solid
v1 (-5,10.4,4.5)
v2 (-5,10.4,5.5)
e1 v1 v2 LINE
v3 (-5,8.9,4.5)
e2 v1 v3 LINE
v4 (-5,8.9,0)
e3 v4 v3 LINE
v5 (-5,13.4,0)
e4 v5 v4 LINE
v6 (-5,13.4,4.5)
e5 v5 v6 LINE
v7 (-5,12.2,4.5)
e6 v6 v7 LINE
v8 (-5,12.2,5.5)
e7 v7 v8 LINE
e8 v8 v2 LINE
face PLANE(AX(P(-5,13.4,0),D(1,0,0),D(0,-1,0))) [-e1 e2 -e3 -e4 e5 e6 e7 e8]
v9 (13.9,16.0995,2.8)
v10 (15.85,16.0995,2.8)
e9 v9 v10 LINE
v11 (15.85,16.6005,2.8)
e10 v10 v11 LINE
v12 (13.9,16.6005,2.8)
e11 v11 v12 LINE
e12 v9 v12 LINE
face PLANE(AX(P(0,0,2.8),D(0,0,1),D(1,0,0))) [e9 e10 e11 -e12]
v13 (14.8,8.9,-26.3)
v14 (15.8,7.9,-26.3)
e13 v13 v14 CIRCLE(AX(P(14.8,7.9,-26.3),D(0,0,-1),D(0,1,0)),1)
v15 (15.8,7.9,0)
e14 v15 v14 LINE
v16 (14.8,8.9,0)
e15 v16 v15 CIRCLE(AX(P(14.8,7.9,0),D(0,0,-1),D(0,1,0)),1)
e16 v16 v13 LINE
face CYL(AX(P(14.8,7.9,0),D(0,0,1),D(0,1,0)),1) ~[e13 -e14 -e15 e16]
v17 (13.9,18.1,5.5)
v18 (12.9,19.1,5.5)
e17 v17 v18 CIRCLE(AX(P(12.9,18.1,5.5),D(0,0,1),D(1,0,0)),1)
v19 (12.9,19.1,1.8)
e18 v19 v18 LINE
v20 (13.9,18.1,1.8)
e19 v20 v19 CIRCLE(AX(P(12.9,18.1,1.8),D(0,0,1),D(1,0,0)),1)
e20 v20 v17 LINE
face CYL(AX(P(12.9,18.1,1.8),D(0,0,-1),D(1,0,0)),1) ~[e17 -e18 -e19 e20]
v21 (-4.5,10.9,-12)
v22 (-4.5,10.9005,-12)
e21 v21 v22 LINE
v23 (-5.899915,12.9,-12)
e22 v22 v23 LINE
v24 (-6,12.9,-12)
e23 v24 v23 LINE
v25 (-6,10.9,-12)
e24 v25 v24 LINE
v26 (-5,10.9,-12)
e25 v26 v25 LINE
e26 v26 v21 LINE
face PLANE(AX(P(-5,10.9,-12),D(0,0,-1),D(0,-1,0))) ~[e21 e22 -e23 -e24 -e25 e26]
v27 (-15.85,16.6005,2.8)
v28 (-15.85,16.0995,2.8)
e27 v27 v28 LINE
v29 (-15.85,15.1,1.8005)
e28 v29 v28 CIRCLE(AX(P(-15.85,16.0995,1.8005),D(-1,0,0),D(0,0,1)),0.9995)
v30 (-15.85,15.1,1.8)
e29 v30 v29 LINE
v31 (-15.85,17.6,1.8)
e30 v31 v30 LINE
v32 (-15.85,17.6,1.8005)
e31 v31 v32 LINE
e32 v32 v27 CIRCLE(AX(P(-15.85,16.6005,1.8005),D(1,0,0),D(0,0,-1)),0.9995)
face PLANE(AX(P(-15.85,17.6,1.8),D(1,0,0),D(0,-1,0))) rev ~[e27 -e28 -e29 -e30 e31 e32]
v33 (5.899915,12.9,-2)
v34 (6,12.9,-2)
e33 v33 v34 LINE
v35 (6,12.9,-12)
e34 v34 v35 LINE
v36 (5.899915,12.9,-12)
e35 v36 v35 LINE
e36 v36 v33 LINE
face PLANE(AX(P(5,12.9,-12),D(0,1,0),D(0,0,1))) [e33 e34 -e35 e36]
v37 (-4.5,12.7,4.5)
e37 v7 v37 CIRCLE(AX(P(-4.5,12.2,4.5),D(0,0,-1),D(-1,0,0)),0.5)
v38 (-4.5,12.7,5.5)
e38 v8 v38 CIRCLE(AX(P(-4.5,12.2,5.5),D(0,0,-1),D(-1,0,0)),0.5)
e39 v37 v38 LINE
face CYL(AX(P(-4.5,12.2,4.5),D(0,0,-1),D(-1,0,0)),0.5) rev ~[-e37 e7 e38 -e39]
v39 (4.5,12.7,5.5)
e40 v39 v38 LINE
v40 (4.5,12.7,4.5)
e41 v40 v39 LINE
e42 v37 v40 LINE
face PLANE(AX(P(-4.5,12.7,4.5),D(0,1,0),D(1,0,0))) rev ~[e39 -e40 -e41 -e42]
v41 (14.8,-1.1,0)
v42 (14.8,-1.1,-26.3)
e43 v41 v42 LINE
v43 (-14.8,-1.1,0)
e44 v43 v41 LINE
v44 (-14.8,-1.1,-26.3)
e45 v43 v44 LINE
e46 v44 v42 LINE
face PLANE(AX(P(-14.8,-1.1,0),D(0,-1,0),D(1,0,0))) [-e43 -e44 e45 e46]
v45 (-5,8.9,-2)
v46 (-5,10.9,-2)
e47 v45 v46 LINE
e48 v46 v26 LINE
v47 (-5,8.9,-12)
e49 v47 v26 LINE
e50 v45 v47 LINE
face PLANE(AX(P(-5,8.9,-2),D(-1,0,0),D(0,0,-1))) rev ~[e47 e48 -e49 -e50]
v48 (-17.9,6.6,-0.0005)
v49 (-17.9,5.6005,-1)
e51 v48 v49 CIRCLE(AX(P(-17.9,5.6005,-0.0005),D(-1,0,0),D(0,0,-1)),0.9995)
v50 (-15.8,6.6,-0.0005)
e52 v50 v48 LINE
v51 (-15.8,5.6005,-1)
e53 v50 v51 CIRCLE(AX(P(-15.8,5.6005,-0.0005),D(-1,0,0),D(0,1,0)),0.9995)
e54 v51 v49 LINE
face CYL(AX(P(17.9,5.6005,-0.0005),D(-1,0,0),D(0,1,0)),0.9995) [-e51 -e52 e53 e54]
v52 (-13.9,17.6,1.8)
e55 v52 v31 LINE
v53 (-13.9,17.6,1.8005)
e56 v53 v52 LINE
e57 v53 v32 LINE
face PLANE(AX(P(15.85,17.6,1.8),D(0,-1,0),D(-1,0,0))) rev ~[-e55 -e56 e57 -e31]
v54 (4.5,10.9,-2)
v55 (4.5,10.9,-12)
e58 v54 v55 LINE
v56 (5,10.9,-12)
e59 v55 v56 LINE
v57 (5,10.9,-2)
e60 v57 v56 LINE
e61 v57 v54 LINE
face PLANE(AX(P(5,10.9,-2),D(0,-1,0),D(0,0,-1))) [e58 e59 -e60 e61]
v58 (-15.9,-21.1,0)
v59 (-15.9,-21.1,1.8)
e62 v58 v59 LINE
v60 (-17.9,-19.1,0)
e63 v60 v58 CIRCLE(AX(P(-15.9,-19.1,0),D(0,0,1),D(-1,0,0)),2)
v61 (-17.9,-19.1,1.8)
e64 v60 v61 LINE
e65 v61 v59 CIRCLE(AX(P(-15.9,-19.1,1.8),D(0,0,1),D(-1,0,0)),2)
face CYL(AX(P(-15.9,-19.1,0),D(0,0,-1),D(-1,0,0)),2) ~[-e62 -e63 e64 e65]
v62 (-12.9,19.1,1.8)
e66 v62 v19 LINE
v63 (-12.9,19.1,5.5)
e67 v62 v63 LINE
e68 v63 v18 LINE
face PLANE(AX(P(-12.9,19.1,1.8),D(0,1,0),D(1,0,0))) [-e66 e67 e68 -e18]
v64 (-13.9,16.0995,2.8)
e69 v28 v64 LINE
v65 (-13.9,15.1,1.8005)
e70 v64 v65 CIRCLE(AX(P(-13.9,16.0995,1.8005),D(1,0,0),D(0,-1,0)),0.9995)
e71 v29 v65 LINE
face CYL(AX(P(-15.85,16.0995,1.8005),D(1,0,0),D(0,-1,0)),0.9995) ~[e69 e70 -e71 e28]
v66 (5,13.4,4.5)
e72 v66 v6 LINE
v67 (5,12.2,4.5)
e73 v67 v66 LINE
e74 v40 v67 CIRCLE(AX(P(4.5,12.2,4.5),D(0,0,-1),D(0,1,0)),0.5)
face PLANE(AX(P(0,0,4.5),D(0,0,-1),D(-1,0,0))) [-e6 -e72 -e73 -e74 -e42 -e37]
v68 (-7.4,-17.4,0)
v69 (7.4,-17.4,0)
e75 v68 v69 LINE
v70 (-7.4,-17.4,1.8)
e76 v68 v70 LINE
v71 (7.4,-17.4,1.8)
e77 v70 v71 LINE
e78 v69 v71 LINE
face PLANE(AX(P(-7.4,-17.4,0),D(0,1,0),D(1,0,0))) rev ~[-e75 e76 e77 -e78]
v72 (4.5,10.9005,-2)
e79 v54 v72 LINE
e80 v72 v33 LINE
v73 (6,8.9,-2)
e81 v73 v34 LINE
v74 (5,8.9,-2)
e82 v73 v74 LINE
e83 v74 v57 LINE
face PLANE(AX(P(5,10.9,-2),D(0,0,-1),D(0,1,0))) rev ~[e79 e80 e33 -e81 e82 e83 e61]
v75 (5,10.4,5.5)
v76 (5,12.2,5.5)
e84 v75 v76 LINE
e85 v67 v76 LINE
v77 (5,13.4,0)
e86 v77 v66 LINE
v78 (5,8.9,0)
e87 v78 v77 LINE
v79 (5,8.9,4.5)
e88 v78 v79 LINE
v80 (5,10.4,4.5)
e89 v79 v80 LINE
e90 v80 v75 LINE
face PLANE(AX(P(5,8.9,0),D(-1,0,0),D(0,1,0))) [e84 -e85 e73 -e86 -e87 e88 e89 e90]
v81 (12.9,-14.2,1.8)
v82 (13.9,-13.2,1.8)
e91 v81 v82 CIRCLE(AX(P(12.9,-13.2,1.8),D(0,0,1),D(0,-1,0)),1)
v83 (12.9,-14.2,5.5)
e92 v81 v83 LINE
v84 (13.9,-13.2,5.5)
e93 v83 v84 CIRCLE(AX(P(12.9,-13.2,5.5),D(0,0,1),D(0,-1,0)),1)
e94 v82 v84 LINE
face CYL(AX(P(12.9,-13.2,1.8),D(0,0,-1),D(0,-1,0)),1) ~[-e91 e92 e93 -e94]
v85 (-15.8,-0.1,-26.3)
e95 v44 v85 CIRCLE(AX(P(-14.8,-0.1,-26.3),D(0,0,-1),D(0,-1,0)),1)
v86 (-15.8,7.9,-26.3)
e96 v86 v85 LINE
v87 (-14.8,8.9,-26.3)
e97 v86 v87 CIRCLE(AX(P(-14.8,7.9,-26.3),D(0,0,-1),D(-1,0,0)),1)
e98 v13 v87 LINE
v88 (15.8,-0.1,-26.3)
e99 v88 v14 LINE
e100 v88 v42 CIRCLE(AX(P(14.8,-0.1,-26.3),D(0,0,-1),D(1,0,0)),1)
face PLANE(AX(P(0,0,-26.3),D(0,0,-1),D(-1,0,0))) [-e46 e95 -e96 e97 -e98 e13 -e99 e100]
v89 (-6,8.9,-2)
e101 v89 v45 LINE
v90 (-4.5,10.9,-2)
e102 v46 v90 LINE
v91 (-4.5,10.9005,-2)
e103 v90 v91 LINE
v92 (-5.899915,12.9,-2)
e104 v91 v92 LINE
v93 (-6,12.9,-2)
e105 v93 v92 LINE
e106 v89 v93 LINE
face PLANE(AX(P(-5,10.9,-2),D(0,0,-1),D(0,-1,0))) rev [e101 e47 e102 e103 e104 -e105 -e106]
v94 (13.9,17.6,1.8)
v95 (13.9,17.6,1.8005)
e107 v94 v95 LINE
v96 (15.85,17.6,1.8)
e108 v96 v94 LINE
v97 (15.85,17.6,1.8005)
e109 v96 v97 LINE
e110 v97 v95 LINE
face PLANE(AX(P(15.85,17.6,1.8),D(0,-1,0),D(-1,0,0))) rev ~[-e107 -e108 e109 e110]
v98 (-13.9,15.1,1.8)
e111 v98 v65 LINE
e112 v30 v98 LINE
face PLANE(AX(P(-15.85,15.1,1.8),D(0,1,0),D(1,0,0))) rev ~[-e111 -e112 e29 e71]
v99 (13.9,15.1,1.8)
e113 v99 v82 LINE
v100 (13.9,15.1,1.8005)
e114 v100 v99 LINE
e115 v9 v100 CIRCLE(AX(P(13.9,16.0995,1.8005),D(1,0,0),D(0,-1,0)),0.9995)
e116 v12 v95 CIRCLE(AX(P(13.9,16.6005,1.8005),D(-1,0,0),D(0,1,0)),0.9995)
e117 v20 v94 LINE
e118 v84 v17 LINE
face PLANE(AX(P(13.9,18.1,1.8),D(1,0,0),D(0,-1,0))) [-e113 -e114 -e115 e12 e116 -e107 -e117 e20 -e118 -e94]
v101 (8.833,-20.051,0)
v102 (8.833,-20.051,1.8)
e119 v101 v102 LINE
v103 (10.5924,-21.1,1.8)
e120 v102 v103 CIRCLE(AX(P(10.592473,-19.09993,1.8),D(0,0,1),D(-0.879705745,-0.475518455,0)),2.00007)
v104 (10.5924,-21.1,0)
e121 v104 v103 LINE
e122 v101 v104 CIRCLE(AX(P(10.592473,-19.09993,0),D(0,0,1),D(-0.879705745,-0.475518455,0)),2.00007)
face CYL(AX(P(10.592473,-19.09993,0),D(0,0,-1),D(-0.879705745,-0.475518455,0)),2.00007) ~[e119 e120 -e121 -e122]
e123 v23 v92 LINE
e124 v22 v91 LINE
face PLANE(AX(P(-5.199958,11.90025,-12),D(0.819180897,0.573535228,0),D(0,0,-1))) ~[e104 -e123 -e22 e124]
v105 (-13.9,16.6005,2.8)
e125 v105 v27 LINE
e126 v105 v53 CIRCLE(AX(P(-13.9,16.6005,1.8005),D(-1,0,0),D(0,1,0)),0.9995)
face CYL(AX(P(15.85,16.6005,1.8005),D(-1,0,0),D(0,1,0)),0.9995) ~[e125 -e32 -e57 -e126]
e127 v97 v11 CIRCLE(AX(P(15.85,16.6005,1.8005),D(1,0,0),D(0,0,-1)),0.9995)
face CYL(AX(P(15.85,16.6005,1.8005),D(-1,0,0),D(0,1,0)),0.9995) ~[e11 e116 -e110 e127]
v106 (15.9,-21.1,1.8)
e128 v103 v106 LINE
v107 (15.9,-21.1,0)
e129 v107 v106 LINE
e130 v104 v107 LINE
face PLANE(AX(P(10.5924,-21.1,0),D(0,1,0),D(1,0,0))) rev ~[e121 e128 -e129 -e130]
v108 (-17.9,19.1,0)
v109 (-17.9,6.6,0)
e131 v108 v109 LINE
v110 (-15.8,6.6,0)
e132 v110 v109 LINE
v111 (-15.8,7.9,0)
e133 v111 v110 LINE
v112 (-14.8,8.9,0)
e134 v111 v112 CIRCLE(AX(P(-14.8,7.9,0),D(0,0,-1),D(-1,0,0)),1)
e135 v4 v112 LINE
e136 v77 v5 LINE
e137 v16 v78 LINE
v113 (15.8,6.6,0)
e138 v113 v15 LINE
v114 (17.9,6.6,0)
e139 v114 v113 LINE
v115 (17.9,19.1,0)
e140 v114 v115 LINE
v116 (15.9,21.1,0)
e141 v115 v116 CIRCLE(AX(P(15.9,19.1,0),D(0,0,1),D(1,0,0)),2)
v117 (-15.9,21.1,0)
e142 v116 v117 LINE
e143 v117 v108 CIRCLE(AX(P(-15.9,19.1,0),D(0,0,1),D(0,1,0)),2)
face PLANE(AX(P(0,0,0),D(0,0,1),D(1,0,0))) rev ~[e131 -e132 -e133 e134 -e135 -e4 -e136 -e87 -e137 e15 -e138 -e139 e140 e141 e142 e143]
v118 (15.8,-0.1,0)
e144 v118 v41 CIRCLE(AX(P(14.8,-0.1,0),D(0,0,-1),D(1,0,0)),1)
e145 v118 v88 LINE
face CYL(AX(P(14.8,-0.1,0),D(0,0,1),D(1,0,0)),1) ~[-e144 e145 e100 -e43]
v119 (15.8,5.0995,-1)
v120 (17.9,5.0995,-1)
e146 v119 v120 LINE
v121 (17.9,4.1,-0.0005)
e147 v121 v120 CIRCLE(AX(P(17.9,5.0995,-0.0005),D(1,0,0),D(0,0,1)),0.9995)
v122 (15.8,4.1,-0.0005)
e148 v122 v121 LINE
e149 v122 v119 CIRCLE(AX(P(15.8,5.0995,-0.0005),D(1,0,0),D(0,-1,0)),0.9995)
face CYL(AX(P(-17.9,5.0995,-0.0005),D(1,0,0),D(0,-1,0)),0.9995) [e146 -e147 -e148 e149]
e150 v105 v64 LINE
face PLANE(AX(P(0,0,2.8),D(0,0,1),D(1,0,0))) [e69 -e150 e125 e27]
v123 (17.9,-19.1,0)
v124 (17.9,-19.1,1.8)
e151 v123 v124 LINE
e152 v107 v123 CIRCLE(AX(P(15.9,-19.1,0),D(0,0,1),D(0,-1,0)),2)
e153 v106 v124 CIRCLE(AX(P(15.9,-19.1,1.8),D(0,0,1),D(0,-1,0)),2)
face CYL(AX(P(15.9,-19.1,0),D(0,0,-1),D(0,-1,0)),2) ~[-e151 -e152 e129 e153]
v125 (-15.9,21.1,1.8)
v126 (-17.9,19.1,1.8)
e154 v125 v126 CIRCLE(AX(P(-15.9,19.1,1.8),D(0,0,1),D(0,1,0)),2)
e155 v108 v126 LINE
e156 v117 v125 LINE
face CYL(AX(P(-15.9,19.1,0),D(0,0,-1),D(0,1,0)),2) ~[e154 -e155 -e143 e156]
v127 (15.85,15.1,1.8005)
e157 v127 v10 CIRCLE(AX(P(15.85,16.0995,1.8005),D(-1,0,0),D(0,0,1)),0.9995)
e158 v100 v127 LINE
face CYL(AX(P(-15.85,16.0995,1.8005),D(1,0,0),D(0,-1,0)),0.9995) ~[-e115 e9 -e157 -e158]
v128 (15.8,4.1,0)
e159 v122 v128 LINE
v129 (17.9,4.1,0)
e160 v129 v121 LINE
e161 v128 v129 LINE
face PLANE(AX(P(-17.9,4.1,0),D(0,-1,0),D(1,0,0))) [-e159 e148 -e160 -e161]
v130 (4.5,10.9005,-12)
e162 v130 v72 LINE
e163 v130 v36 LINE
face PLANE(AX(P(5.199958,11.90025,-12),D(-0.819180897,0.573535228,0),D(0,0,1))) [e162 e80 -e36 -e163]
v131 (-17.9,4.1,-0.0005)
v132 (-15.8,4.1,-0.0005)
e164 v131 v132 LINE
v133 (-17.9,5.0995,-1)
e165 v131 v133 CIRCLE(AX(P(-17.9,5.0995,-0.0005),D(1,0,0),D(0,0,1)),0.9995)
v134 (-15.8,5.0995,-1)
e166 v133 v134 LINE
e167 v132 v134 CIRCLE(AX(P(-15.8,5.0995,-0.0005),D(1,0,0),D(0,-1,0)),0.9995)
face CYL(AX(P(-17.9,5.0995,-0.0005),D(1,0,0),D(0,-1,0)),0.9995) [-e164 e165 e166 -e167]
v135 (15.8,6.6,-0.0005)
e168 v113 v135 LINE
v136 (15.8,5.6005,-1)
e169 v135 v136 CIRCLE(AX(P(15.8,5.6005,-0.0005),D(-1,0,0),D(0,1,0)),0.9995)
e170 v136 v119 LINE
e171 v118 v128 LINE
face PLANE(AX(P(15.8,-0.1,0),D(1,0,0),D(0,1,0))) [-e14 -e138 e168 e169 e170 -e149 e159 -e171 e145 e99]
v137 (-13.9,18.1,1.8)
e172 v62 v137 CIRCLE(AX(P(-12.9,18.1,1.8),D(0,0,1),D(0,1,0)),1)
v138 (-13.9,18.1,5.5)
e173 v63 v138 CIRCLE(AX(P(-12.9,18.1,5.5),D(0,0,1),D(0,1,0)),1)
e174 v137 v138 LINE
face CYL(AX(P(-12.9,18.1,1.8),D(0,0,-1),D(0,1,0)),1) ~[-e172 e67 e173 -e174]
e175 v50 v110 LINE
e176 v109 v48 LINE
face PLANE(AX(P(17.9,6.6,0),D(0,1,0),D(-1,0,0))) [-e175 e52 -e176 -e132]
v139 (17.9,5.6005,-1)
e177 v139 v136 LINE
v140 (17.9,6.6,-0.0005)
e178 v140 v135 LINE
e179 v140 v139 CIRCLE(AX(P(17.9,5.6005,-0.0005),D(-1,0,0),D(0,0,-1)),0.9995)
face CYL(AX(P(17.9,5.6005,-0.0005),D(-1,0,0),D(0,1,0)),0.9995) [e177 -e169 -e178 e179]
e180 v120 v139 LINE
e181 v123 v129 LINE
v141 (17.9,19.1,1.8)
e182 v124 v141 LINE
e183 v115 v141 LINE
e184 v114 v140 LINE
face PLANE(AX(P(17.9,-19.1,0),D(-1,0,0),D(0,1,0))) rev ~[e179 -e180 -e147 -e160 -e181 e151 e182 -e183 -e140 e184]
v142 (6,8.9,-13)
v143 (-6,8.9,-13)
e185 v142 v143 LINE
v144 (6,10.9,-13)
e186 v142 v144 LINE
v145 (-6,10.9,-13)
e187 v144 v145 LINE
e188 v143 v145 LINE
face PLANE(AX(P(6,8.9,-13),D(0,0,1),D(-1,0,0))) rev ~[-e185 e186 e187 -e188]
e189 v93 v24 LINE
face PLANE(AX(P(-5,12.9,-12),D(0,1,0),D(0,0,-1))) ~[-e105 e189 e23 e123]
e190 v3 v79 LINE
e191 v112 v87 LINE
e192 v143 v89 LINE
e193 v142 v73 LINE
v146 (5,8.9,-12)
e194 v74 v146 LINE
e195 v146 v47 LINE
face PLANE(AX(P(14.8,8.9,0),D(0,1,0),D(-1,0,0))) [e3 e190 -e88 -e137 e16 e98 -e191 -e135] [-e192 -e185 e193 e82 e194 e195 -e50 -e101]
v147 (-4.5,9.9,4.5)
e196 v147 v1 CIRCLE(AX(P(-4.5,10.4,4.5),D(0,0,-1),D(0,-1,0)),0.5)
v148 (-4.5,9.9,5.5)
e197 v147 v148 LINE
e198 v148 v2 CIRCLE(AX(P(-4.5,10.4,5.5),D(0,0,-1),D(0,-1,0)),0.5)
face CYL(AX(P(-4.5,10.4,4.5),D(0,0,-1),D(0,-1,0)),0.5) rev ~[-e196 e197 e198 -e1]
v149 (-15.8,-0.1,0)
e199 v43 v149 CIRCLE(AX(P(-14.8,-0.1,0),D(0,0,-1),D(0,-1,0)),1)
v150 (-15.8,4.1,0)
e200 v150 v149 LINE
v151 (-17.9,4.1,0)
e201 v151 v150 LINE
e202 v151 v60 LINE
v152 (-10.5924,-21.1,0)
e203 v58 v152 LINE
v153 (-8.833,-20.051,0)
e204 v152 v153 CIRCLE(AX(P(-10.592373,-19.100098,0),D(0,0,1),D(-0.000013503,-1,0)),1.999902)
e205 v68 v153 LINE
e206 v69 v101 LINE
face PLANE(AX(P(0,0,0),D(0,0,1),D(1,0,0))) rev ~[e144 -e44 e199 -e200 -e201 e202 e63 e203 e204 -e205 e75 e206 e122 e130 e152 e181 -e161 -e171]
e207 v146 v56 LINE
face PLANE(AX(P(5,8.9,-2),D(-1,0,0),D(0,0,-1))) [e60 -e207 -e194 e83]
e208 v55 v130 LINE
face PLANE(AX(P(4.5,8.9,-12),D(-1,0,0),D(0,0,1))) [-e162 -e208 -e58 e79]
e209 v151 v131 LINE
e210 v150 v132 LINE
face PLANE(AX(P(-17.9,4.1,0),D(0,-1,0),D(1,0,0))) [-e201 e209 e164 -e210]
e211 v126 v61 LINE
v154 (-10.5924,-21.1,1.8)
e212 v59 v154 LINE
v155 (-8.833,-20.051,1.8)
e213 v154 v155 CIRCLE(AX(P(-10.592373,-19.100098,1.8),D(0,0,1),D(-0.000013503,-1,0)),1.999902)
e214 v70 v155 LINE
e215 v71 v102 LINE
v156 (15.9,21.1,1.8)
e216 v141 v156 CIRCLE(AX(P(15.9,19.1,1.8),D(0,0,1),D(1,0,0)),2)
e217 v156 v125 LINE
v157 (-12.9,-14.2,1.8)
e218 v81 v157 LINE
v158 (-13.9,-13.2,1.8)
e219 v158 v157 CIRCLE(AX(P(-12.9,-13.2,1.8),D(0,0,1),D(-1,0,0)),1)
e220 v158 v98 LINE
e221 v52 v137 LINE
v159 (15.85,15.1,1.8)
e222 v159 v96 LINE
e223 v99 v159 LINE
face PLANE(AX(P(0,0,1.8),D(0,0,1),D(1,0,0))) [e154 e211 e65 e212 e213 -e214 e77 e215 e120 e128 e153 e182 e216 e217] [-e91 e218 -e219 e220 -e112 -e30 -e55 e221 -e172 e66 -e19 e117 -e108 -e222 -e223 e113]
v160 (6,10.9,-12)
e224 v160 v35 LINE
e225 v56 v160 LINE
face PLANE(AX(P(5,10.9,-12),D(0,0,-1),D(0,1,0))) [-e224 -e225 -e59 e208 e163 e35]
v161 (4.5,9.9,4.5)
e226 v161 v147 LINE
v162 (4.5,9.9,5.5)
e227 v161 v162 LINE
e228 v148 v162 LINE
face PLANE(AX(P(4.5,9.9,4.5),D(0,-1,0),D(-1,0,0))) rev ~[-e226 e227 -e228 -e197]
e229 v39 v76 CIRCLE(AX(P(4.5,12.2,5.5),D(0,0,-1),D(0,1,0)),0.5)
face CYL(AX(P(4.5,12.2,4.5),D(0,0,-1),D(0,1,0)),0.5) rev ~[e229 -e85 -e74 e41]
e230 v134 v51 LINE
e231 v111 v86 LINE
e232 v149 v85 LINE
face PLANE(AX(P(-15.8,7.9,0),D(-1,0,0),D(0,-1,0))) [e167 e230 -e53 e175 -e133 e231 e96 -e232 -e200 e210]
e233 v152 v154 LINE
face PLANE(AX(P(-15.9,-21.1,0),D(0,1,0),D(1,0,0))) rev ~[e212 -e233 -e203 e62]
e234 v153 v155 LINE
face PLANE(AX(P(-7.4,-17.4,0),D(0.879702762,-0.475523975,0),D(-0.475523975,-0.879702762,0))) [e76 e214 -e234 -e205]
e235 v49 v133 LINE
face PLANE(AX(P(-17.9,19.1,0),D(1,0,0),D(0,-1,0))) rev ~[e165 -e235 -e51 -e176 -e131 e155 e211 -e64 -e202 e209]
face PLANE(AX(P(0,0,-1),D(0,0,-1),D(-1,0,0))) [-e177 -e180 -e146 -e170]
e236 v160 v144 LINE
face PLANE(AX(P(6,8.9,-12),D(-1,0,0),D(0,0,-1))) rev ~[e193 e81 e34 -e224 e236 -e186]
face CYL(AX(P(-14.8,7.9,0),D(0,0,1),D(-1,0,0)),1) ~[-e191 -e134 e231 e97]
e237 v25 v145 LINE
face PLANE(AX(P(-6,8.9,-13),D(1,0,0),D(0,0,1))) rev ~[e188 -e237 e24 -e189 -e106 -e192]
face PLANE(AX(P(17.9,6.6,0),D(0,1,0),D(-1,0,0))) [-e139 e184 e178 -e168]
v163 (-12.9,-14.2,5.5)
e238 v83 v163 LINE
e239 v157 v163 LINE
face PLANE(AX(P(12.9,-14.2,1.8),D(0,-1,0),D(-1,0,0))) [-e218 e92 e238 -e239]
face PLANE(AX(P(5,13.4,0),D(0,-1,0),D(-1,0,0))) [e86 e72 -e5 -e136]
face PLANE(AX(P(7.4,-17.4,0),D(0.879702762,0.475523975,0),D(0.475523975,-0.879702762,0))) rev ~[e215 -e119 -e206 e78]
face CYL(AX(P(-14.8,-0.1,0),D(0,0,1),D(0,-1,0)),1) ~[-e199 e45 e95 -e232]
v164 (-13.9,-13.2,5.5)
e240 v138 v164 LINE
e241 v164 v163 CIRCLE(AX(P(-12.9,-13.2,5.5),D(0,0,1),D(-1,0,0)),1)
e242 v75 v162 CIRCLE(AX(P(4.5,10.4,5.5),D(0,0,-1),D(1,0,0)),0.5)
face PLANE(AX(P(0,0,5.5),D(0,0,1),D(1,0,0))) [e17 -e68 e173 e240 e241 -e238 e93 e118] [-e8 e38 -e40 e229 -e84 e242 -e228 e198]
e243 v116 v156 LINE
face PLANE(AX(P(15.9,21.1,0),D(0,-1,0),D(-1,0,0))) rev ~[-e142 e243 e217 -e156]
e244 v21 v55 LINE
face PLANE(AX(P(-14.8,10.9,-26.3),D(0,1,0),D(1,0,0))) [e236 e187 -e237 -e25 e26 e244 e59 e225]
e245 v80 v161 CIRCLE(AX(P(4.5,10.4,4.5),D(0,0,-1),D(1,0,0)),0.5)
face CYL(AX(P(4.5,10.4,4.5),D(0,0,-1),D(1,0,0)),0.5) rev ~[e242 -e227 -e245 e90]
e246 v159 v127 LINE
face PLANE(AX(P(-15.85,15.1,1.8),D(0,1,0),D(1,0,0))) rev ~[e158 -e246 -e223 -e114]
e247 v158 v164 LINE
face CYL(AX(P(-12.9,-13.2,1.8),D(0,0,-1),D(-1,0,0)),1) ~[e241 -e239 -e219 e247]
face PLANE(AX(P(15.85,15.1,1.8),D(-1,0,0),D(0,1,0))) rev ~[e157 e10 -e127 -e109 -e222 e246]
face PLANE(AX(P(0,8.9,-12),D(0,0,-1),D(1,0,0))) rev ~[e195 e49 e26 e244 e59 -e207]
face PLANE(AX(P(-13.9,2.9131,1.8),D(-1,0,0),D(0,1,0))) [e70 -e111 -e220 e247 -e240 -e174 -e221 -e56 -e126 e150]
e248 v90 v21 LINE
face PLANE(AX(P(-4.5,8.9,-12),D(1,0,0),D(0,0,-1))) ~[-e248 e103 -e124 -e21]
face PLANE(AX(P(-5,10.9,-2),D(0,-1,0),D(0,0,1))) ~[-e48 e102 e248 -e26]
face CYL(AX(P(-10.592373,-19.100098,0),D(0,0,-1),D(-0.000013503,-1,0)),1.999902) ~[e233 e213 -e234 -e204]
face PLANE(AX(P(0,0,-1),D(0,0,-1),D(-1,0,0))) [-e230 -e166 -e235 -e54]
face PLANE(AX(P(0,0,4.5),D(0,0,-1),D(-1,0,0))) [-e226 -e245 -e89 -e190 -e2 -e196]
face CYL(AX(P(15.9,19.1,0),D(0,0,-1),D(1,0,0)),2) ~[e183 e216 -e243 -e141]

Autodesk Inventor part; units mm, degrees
ref_plane "YZ Plane" through (0, 0, 0) normal (1, 0, 0) x (0, 1, 0)
ref_plane "XZ Plane" through (0, 0, 0) normal (0, 1, 0) x (-1, 0, 0)
ref_plane "XY Plane" through (0, 0, 0) normal (0, 0, 1) x (1, 0, 0)
sketch "Sketch1" plane through (0, 0, 0) normal (0, 0, 1) x (1, 0, 0)
  line L0 (17.9, -19.1) -> (17.9, 19.1)
  line L1 (15.9, 21.1) -> (-15.9, 21.1)
  line L2 (-17.9, 19.1) -> (-17.9, -19.1)
  line L3 (-15.9, -21.1) -> (-10.5924, -21.1)
  line L4 (17.9, -21.1) -> (-17.9, 21.1) construction
  line L5 (17.9, 21.1) -> (-17.9, -21.1) construction
  line L6 (-7.4, -17.4) -> (7.4, -17.4)
  line L7 (-7.4, -17.4) -> (-8.833, -20.051)
  line L8 (7.4, -17.4) -> (8.833, -20.051)
  line L9 (10.5924, -21.1) -> (15.9, -21.1)
  line L10 (-9.4, -21.1) -> (9.4, -21.1)
  arc A0 (-15.9, 21.1) -> (-17.9, 19.1) centre (-15.9, 19.1) ccw
  arc A1 (17.9, 19.1) -> (15.9, 21.1) centre (15.9, 19.1) ccw
  arc A2 (15.9, -21.1) -> (17.9, -19.1) centre (15.9, -19.1) ccw
  arc A3 (8.833, -20.051) -> (10.5924, -21.1) centre (10.5924, -19.1) ccw
  arc A4 (-10.5924, -21.1) -> (-8.833, -20.051) centre (-10.5924, -19.1) ccw
  arc A5 (-17.9, -19.1) -> (-15.9, -21.1) centre (-15.9, -19.1) ccw
  point P0 (0, 0)
  dimension "d0" = 35.8
  dimension "d1" = 42.2
  dimension "d2" = 38.5
  dimension "d3" = 10.5
  dimension "d4" = 10.5
  dimension "d5" = 8.5
  dimension "d6" = 8.5
  dimension "d7" = 2
extrude "Extrusion1" add sketch "Sketch1" along normal blind 1.8
sketch "Sketch2" plane through (0, 0, 1.8) normal (0, 0, 1) x (1, 0, 0)
  line L0 (-15.85, 15.1) -> (15.85, 15.1)
  line L1 (15.85, 15.1) -> (15.85, 17.6)
  line L2 (15.85, 17.6) -> (-15.85, 17.6)
  line L3 (-15.85, 17.6) -> (-15.85, 15.1)
  line L4 (-15.85, 15.1) -> (15.85, 17.6) construction
  line L5 (15.85, 15.1) -> (-15.85, 17.6) construction
  line L6 (15.9, 21.1) -> (-15.9, 21.1) projected
  point P0 (0, 0)
  point P1 (0, 16.35)
  point P2 (0, 16.35)
  point P3 (15.85, 16.35)
  point P4 (-15.85, 16.35)
  dimension "d10" = 2.5
  dimension "d11" = 6
  dimension "d12" = 31.7
extrude "Extrusion2" add sketch "Sketch2" along normal blind 1
fillet "Fillet1" radius 1 2 edges at (0, 17.6, 2.8) (0, 15.1, 2.8)
sketch "Sketch3" plane through (0, 0, 1.8) normal (0, 0, 1) x (1, 0, 0)
  line L0 (-12.9, 19.1) -> (12.9, 19.1)
  line L1 (13.9, 18.1) -> (13.9, -13.2)
  line L2 (12.9, -14.2) -> (-12.9, -14.2)
  line L3 (-13.9, -13.2) -> (-13.9, 18.1)
  line L4 (15.9, 21.1) -> (-15.9, 21.1) projected
  line L5 (-13.9, 2.9131) -> (-17.9, 2.9131)
  line L6 (-17.9, 19.1) -> (-17.9, -19.1) projected
  line L7 (13.9, 2.9131) -> (17.9, 2.9131)
  line L8 (17.9, -19.1) -> (17.9, 19.1) projected
  arc A0 (-12.9, 19.1) -> (-13.9, 18.1) centre (-12.9, 18.1) ccw
  arc A1 (13.9, 18.1) -> (12.9, 19.1) centre (12.9, 18.1) ccw
  arc A2 (12.9, -14.2) -> (13.9, -13.2) centre (12.9, -13.2) ccw
  arc A3 (-13.9, -13.2) -> (-12.9, -14.2) centre (-12.9, -13.2) ccw
  point P0 (0, 0)
  point P1 (13.9, -14.2)
  point P2 (13.9, 19.1)
  point P3 (-13.9, -14.2)
  dimension "d16" = 27.8
  dimension "d17" = 33.3
  dimension "d18" = 2
  dimension "d19" = 1
extrude "Extrusion3" add sketch "Sketch3" along normal blind 3.7
sketch "Sketch4" plane through (0, 0, 0) normal (0, 0, -1) x (-1, 0, 0)
  line L0 (-17.9, -19.1) -> (-17.9, 19.1) projected
  line L1 (17.9, 19.1) -> (17.9, -19.1) projected
  line L2 (-17.9, 6.6) -> (17.9, 6.6)
  line L3 (17.9, 6.6) -> (17.9, 4.1)
  line L4 (17.9, 4.1) -> (-17.9, 4.1)
  line L5 (-17.9, 4.1) -> (-17.9, 6.6)
  line L6 (-15.9, 21.1) -> (15.9, 21.1) projected
  point P0 (0, 0)
  dimension "d22" = 2.5
  dimension "d23" = 17
extrude "Extrusion4" add sketch "Sketch4" along normal blind 1
fillet "Fillet2" radius 1 2 edges at (0, 6.6, -1) (0, 4.1, -1)
sketch "Sketch5" plane through (0, 0, 0) normal (0, 0, -1) x (-1, 0, 0)
  line L0 (-14.8, 8.9) -> (14.8, 8.9)
  line L1 (15.8, 7.9) -> (15.8, -0.1)
  line L2 (14.8, -1.1) -> (-14.8, -1.1)
  line L3 (-15.8, -0.1) -> (-15.8, 7.9)
  line L4 (-15.9, 21.1) -> (15.9, 21.1) projected
  line L5 (-17.9, 6.6) -> (-17.9, 19.1) projected
  line L6 (17.9, 4.1) -> (17.9, -19.1) projected
  arc A0 (-15.8, -0.1) -> (-14.8, -1.1) centre (-14.8, -0.1) ccw
  arc A1 (-14.8, 8.9) -> (-15.8, 7.9) centre (-14.8, 7.9) ccw
  arc A2 (15.8, 7.9) -> (14.8, 8.9) centre (14.8, 7.9) ccw
  arc A3 (14.8, -1.1) -> (15.8, -0.1) centre (14.8, -0.1) ccw
  point P0 (0, 0)
  point P1 (0, 8.9)
  dimension "d27" = 22.2
  dimension "d28" = 2.1
  dimension "d29" = 10
  dimension "d30" = 2.1
  dimension "d31" = 1
extrude "Extrusion5" add sketch "Sketch5" along normal blind 26.3
sketch "Sketch6" plane through (0, 0, 0) normal (0, 0, -1) x (-1, 0, 0)
  line L0 (-5, 13.4) -> (5, 13.4)
  line L1 (5, 13.4) -> (5, 8.9)
  line L2 (5, 8.9) -> (-5, 8.9)
  line L3 (-5, 8.9) -> (-5, 13.4)
  line L4 (14.8, 8.9) -> (-14.8, 8.9) projected
  line L5 (5, 13.4) -> (17.9, 13.4)
  line L6 (17.9, 19.1) -> (17.9, 6.6) projected
  line L7 (-5, 13.4) -> (-17.9, 13.4)
  line L8 (-17.9, -19.1) -> (-17.9, 19.1) projected
  point P0 (0, 0)
  point P1 (-5, 11.15)
  dimension "d34" = 10
  dimension "d60" = 4.5
extrude "Extrusion6" cut sketch "Sketch6" against normal blind 4.5
sketch "Sketch7" plane through (-14.8, 8.9, -26.3) normal (0, 1, 0) x (1, 0, 0)
  line L0 (9.8, -30.8) -> (19.8, -30.8) projected
  line L1 (14.8, -30.8) -> (14.8, -14.3)
  line L2 (8.8, -14.3) -> (20.8, -14.3)
  line L3 (20.8, -14.3) -> (20.8, -13.3)
  line L4 (20.8, -13.3) -> (8.8, -13.3)
  line L5 (8.8, -13.3) -> (8.8, -14.3)
  line L6 (20.8, -14.3) -> (20.8, -24.3)
  line L7 (20.8, -24.3) -> (19.8, -24.3)
  line L8 (19.8, -24.3) -> (19.8, -14.3)
  line L9 (8.8, -14.3) -> (8.8, -24.3)
  line L10 (8.8, -24.3) -> (9.8, -24.3)
  line L11 (9.8, -24.3) -> (9.8, -14.3)
  point P0 (14.8, -26.3)
  point P1 (20.3, -24.3)
  dimension "d38" = 12
  dimension "d39" = 1
  dimension "d40" = 1
  dimension "d58" = 16.5
  dimension "d59" = 10
extrude "Extrusion7" add sketch "Sketch7" along normal blind 2
sketch "Sketch8" plane through (-14.8, 10.9, -26.3) normal (0, 1, 0) x (1, 0, 0)
  line L0 (9.8, -14.3) -> (19.8, -14.3) projected
  line L1 (20.8, -24.3) -> (20.8, -13.3) projected
  line L2 (19.8, -14.3) -> (20.8, -14.3)
  line L3 (20.8, -14.3) -> (20.8, -24.3)
  line L4 (20.8, -24.3) -> (19.8, -24.3)
  line L5 (19.8, -24.3) -> (19.8, -14.3)
  line L6 (9.8, -14.3) -> (9.8, -30.8) projected
  line L7 (8.8, -24.3) -> (8.8, -13.3) projected
  line L8 (9.8, -14.3) -> (8.8, -14.3)
  line L9 (8.8, -14.3) -> (8.8, -24.3)
  line L10 (8.8, -24.3) -> (9.8, -24.3)
  line L11 (9.8, -24.3) -> (9.8, -14.3)
  point P0 (14.8, -26.3)
  point P1 (9.8, -24.3)
  point P2 (9.8, -24.3)
  point P3 (8.8, -14.3)
  point P4 (20.8, -26.3)
  point P5 (8.8, -26.3)
extrude "Extrusion8" add sketch "Sketch8" along normal blind 2
sketch "Sketch9" plane through (5, 8.9, -12) normal (-1, 0, 0) x (0, 0, 1)
  line L0 (0, 2) -> (0, 4) projected
  line L1 (10, 0) -> (10, 4) projected
  line L2 (0, 4) -> (10, 4)
  line L3 (10, 4) -> (10, 2)
  line L4 (10, 2) -> (0, 2)
  line L5 (0, 2) -> (0, 4)
  point P0 (12, -8.9)
extrude "Extrusion9" add sketch "Sketch9" along normal blind 0.5
chamfer "Chamfer1" distance 2 angle 35 1 edges at (4.5, 12.9, -7) measured on face at (4.5, 12.2333, -8.6667)
mirror "Mirror1" about plane through (0, 0, 0) normal (1, 0, 0) of "Extrusion9", "Chamfer1"
sketch "Sketch10" plane through (0, 0, 4.5) normal (0, 0, -1) x (-1, 0, 0)
  line L0 (-4.5, 9.9) -> (4.5, 9.9)
  line L1 (5, 10.4) -> (5, 12.2)
  line L2 (4.5, 12.7) -> (-4.5, 12.7)
  line L3 (-5, 12.2) -> (-5, 10.4)
  line L4 (5, 8.9) -> (-5, 8.9) projected
  line L5 (-5, 8.9) -> (-5, 13.4) projected
  arc A0 (-5, 10.4) -> (-4.5, 9.9) centre (-4.5, 10.4) ccw
  arc A1 (-4.5, 12.7) -> (-5, 12.2) centre (-4.5, 12.2) ccw
  arc A2 (5, 12.2) -> (4.5, 12.7) centre (4.5, 12.2) ccw
  arc A3 (4.5, 9.9) -> (5, 10.4) centre (4.5, 10.4) ccw
  point P0 (0, 0)
  point P1 (-5, 11.3)
  dimension "d51" = 1
  dimension "d52" = 10
  dimension "d53" = 0.5
  dimension "d54" = 2.8
extrude "Extrusion10" cut sketch "Sketch10" against normal blind 2
properties part number "PS2 USB C PD Mount"
